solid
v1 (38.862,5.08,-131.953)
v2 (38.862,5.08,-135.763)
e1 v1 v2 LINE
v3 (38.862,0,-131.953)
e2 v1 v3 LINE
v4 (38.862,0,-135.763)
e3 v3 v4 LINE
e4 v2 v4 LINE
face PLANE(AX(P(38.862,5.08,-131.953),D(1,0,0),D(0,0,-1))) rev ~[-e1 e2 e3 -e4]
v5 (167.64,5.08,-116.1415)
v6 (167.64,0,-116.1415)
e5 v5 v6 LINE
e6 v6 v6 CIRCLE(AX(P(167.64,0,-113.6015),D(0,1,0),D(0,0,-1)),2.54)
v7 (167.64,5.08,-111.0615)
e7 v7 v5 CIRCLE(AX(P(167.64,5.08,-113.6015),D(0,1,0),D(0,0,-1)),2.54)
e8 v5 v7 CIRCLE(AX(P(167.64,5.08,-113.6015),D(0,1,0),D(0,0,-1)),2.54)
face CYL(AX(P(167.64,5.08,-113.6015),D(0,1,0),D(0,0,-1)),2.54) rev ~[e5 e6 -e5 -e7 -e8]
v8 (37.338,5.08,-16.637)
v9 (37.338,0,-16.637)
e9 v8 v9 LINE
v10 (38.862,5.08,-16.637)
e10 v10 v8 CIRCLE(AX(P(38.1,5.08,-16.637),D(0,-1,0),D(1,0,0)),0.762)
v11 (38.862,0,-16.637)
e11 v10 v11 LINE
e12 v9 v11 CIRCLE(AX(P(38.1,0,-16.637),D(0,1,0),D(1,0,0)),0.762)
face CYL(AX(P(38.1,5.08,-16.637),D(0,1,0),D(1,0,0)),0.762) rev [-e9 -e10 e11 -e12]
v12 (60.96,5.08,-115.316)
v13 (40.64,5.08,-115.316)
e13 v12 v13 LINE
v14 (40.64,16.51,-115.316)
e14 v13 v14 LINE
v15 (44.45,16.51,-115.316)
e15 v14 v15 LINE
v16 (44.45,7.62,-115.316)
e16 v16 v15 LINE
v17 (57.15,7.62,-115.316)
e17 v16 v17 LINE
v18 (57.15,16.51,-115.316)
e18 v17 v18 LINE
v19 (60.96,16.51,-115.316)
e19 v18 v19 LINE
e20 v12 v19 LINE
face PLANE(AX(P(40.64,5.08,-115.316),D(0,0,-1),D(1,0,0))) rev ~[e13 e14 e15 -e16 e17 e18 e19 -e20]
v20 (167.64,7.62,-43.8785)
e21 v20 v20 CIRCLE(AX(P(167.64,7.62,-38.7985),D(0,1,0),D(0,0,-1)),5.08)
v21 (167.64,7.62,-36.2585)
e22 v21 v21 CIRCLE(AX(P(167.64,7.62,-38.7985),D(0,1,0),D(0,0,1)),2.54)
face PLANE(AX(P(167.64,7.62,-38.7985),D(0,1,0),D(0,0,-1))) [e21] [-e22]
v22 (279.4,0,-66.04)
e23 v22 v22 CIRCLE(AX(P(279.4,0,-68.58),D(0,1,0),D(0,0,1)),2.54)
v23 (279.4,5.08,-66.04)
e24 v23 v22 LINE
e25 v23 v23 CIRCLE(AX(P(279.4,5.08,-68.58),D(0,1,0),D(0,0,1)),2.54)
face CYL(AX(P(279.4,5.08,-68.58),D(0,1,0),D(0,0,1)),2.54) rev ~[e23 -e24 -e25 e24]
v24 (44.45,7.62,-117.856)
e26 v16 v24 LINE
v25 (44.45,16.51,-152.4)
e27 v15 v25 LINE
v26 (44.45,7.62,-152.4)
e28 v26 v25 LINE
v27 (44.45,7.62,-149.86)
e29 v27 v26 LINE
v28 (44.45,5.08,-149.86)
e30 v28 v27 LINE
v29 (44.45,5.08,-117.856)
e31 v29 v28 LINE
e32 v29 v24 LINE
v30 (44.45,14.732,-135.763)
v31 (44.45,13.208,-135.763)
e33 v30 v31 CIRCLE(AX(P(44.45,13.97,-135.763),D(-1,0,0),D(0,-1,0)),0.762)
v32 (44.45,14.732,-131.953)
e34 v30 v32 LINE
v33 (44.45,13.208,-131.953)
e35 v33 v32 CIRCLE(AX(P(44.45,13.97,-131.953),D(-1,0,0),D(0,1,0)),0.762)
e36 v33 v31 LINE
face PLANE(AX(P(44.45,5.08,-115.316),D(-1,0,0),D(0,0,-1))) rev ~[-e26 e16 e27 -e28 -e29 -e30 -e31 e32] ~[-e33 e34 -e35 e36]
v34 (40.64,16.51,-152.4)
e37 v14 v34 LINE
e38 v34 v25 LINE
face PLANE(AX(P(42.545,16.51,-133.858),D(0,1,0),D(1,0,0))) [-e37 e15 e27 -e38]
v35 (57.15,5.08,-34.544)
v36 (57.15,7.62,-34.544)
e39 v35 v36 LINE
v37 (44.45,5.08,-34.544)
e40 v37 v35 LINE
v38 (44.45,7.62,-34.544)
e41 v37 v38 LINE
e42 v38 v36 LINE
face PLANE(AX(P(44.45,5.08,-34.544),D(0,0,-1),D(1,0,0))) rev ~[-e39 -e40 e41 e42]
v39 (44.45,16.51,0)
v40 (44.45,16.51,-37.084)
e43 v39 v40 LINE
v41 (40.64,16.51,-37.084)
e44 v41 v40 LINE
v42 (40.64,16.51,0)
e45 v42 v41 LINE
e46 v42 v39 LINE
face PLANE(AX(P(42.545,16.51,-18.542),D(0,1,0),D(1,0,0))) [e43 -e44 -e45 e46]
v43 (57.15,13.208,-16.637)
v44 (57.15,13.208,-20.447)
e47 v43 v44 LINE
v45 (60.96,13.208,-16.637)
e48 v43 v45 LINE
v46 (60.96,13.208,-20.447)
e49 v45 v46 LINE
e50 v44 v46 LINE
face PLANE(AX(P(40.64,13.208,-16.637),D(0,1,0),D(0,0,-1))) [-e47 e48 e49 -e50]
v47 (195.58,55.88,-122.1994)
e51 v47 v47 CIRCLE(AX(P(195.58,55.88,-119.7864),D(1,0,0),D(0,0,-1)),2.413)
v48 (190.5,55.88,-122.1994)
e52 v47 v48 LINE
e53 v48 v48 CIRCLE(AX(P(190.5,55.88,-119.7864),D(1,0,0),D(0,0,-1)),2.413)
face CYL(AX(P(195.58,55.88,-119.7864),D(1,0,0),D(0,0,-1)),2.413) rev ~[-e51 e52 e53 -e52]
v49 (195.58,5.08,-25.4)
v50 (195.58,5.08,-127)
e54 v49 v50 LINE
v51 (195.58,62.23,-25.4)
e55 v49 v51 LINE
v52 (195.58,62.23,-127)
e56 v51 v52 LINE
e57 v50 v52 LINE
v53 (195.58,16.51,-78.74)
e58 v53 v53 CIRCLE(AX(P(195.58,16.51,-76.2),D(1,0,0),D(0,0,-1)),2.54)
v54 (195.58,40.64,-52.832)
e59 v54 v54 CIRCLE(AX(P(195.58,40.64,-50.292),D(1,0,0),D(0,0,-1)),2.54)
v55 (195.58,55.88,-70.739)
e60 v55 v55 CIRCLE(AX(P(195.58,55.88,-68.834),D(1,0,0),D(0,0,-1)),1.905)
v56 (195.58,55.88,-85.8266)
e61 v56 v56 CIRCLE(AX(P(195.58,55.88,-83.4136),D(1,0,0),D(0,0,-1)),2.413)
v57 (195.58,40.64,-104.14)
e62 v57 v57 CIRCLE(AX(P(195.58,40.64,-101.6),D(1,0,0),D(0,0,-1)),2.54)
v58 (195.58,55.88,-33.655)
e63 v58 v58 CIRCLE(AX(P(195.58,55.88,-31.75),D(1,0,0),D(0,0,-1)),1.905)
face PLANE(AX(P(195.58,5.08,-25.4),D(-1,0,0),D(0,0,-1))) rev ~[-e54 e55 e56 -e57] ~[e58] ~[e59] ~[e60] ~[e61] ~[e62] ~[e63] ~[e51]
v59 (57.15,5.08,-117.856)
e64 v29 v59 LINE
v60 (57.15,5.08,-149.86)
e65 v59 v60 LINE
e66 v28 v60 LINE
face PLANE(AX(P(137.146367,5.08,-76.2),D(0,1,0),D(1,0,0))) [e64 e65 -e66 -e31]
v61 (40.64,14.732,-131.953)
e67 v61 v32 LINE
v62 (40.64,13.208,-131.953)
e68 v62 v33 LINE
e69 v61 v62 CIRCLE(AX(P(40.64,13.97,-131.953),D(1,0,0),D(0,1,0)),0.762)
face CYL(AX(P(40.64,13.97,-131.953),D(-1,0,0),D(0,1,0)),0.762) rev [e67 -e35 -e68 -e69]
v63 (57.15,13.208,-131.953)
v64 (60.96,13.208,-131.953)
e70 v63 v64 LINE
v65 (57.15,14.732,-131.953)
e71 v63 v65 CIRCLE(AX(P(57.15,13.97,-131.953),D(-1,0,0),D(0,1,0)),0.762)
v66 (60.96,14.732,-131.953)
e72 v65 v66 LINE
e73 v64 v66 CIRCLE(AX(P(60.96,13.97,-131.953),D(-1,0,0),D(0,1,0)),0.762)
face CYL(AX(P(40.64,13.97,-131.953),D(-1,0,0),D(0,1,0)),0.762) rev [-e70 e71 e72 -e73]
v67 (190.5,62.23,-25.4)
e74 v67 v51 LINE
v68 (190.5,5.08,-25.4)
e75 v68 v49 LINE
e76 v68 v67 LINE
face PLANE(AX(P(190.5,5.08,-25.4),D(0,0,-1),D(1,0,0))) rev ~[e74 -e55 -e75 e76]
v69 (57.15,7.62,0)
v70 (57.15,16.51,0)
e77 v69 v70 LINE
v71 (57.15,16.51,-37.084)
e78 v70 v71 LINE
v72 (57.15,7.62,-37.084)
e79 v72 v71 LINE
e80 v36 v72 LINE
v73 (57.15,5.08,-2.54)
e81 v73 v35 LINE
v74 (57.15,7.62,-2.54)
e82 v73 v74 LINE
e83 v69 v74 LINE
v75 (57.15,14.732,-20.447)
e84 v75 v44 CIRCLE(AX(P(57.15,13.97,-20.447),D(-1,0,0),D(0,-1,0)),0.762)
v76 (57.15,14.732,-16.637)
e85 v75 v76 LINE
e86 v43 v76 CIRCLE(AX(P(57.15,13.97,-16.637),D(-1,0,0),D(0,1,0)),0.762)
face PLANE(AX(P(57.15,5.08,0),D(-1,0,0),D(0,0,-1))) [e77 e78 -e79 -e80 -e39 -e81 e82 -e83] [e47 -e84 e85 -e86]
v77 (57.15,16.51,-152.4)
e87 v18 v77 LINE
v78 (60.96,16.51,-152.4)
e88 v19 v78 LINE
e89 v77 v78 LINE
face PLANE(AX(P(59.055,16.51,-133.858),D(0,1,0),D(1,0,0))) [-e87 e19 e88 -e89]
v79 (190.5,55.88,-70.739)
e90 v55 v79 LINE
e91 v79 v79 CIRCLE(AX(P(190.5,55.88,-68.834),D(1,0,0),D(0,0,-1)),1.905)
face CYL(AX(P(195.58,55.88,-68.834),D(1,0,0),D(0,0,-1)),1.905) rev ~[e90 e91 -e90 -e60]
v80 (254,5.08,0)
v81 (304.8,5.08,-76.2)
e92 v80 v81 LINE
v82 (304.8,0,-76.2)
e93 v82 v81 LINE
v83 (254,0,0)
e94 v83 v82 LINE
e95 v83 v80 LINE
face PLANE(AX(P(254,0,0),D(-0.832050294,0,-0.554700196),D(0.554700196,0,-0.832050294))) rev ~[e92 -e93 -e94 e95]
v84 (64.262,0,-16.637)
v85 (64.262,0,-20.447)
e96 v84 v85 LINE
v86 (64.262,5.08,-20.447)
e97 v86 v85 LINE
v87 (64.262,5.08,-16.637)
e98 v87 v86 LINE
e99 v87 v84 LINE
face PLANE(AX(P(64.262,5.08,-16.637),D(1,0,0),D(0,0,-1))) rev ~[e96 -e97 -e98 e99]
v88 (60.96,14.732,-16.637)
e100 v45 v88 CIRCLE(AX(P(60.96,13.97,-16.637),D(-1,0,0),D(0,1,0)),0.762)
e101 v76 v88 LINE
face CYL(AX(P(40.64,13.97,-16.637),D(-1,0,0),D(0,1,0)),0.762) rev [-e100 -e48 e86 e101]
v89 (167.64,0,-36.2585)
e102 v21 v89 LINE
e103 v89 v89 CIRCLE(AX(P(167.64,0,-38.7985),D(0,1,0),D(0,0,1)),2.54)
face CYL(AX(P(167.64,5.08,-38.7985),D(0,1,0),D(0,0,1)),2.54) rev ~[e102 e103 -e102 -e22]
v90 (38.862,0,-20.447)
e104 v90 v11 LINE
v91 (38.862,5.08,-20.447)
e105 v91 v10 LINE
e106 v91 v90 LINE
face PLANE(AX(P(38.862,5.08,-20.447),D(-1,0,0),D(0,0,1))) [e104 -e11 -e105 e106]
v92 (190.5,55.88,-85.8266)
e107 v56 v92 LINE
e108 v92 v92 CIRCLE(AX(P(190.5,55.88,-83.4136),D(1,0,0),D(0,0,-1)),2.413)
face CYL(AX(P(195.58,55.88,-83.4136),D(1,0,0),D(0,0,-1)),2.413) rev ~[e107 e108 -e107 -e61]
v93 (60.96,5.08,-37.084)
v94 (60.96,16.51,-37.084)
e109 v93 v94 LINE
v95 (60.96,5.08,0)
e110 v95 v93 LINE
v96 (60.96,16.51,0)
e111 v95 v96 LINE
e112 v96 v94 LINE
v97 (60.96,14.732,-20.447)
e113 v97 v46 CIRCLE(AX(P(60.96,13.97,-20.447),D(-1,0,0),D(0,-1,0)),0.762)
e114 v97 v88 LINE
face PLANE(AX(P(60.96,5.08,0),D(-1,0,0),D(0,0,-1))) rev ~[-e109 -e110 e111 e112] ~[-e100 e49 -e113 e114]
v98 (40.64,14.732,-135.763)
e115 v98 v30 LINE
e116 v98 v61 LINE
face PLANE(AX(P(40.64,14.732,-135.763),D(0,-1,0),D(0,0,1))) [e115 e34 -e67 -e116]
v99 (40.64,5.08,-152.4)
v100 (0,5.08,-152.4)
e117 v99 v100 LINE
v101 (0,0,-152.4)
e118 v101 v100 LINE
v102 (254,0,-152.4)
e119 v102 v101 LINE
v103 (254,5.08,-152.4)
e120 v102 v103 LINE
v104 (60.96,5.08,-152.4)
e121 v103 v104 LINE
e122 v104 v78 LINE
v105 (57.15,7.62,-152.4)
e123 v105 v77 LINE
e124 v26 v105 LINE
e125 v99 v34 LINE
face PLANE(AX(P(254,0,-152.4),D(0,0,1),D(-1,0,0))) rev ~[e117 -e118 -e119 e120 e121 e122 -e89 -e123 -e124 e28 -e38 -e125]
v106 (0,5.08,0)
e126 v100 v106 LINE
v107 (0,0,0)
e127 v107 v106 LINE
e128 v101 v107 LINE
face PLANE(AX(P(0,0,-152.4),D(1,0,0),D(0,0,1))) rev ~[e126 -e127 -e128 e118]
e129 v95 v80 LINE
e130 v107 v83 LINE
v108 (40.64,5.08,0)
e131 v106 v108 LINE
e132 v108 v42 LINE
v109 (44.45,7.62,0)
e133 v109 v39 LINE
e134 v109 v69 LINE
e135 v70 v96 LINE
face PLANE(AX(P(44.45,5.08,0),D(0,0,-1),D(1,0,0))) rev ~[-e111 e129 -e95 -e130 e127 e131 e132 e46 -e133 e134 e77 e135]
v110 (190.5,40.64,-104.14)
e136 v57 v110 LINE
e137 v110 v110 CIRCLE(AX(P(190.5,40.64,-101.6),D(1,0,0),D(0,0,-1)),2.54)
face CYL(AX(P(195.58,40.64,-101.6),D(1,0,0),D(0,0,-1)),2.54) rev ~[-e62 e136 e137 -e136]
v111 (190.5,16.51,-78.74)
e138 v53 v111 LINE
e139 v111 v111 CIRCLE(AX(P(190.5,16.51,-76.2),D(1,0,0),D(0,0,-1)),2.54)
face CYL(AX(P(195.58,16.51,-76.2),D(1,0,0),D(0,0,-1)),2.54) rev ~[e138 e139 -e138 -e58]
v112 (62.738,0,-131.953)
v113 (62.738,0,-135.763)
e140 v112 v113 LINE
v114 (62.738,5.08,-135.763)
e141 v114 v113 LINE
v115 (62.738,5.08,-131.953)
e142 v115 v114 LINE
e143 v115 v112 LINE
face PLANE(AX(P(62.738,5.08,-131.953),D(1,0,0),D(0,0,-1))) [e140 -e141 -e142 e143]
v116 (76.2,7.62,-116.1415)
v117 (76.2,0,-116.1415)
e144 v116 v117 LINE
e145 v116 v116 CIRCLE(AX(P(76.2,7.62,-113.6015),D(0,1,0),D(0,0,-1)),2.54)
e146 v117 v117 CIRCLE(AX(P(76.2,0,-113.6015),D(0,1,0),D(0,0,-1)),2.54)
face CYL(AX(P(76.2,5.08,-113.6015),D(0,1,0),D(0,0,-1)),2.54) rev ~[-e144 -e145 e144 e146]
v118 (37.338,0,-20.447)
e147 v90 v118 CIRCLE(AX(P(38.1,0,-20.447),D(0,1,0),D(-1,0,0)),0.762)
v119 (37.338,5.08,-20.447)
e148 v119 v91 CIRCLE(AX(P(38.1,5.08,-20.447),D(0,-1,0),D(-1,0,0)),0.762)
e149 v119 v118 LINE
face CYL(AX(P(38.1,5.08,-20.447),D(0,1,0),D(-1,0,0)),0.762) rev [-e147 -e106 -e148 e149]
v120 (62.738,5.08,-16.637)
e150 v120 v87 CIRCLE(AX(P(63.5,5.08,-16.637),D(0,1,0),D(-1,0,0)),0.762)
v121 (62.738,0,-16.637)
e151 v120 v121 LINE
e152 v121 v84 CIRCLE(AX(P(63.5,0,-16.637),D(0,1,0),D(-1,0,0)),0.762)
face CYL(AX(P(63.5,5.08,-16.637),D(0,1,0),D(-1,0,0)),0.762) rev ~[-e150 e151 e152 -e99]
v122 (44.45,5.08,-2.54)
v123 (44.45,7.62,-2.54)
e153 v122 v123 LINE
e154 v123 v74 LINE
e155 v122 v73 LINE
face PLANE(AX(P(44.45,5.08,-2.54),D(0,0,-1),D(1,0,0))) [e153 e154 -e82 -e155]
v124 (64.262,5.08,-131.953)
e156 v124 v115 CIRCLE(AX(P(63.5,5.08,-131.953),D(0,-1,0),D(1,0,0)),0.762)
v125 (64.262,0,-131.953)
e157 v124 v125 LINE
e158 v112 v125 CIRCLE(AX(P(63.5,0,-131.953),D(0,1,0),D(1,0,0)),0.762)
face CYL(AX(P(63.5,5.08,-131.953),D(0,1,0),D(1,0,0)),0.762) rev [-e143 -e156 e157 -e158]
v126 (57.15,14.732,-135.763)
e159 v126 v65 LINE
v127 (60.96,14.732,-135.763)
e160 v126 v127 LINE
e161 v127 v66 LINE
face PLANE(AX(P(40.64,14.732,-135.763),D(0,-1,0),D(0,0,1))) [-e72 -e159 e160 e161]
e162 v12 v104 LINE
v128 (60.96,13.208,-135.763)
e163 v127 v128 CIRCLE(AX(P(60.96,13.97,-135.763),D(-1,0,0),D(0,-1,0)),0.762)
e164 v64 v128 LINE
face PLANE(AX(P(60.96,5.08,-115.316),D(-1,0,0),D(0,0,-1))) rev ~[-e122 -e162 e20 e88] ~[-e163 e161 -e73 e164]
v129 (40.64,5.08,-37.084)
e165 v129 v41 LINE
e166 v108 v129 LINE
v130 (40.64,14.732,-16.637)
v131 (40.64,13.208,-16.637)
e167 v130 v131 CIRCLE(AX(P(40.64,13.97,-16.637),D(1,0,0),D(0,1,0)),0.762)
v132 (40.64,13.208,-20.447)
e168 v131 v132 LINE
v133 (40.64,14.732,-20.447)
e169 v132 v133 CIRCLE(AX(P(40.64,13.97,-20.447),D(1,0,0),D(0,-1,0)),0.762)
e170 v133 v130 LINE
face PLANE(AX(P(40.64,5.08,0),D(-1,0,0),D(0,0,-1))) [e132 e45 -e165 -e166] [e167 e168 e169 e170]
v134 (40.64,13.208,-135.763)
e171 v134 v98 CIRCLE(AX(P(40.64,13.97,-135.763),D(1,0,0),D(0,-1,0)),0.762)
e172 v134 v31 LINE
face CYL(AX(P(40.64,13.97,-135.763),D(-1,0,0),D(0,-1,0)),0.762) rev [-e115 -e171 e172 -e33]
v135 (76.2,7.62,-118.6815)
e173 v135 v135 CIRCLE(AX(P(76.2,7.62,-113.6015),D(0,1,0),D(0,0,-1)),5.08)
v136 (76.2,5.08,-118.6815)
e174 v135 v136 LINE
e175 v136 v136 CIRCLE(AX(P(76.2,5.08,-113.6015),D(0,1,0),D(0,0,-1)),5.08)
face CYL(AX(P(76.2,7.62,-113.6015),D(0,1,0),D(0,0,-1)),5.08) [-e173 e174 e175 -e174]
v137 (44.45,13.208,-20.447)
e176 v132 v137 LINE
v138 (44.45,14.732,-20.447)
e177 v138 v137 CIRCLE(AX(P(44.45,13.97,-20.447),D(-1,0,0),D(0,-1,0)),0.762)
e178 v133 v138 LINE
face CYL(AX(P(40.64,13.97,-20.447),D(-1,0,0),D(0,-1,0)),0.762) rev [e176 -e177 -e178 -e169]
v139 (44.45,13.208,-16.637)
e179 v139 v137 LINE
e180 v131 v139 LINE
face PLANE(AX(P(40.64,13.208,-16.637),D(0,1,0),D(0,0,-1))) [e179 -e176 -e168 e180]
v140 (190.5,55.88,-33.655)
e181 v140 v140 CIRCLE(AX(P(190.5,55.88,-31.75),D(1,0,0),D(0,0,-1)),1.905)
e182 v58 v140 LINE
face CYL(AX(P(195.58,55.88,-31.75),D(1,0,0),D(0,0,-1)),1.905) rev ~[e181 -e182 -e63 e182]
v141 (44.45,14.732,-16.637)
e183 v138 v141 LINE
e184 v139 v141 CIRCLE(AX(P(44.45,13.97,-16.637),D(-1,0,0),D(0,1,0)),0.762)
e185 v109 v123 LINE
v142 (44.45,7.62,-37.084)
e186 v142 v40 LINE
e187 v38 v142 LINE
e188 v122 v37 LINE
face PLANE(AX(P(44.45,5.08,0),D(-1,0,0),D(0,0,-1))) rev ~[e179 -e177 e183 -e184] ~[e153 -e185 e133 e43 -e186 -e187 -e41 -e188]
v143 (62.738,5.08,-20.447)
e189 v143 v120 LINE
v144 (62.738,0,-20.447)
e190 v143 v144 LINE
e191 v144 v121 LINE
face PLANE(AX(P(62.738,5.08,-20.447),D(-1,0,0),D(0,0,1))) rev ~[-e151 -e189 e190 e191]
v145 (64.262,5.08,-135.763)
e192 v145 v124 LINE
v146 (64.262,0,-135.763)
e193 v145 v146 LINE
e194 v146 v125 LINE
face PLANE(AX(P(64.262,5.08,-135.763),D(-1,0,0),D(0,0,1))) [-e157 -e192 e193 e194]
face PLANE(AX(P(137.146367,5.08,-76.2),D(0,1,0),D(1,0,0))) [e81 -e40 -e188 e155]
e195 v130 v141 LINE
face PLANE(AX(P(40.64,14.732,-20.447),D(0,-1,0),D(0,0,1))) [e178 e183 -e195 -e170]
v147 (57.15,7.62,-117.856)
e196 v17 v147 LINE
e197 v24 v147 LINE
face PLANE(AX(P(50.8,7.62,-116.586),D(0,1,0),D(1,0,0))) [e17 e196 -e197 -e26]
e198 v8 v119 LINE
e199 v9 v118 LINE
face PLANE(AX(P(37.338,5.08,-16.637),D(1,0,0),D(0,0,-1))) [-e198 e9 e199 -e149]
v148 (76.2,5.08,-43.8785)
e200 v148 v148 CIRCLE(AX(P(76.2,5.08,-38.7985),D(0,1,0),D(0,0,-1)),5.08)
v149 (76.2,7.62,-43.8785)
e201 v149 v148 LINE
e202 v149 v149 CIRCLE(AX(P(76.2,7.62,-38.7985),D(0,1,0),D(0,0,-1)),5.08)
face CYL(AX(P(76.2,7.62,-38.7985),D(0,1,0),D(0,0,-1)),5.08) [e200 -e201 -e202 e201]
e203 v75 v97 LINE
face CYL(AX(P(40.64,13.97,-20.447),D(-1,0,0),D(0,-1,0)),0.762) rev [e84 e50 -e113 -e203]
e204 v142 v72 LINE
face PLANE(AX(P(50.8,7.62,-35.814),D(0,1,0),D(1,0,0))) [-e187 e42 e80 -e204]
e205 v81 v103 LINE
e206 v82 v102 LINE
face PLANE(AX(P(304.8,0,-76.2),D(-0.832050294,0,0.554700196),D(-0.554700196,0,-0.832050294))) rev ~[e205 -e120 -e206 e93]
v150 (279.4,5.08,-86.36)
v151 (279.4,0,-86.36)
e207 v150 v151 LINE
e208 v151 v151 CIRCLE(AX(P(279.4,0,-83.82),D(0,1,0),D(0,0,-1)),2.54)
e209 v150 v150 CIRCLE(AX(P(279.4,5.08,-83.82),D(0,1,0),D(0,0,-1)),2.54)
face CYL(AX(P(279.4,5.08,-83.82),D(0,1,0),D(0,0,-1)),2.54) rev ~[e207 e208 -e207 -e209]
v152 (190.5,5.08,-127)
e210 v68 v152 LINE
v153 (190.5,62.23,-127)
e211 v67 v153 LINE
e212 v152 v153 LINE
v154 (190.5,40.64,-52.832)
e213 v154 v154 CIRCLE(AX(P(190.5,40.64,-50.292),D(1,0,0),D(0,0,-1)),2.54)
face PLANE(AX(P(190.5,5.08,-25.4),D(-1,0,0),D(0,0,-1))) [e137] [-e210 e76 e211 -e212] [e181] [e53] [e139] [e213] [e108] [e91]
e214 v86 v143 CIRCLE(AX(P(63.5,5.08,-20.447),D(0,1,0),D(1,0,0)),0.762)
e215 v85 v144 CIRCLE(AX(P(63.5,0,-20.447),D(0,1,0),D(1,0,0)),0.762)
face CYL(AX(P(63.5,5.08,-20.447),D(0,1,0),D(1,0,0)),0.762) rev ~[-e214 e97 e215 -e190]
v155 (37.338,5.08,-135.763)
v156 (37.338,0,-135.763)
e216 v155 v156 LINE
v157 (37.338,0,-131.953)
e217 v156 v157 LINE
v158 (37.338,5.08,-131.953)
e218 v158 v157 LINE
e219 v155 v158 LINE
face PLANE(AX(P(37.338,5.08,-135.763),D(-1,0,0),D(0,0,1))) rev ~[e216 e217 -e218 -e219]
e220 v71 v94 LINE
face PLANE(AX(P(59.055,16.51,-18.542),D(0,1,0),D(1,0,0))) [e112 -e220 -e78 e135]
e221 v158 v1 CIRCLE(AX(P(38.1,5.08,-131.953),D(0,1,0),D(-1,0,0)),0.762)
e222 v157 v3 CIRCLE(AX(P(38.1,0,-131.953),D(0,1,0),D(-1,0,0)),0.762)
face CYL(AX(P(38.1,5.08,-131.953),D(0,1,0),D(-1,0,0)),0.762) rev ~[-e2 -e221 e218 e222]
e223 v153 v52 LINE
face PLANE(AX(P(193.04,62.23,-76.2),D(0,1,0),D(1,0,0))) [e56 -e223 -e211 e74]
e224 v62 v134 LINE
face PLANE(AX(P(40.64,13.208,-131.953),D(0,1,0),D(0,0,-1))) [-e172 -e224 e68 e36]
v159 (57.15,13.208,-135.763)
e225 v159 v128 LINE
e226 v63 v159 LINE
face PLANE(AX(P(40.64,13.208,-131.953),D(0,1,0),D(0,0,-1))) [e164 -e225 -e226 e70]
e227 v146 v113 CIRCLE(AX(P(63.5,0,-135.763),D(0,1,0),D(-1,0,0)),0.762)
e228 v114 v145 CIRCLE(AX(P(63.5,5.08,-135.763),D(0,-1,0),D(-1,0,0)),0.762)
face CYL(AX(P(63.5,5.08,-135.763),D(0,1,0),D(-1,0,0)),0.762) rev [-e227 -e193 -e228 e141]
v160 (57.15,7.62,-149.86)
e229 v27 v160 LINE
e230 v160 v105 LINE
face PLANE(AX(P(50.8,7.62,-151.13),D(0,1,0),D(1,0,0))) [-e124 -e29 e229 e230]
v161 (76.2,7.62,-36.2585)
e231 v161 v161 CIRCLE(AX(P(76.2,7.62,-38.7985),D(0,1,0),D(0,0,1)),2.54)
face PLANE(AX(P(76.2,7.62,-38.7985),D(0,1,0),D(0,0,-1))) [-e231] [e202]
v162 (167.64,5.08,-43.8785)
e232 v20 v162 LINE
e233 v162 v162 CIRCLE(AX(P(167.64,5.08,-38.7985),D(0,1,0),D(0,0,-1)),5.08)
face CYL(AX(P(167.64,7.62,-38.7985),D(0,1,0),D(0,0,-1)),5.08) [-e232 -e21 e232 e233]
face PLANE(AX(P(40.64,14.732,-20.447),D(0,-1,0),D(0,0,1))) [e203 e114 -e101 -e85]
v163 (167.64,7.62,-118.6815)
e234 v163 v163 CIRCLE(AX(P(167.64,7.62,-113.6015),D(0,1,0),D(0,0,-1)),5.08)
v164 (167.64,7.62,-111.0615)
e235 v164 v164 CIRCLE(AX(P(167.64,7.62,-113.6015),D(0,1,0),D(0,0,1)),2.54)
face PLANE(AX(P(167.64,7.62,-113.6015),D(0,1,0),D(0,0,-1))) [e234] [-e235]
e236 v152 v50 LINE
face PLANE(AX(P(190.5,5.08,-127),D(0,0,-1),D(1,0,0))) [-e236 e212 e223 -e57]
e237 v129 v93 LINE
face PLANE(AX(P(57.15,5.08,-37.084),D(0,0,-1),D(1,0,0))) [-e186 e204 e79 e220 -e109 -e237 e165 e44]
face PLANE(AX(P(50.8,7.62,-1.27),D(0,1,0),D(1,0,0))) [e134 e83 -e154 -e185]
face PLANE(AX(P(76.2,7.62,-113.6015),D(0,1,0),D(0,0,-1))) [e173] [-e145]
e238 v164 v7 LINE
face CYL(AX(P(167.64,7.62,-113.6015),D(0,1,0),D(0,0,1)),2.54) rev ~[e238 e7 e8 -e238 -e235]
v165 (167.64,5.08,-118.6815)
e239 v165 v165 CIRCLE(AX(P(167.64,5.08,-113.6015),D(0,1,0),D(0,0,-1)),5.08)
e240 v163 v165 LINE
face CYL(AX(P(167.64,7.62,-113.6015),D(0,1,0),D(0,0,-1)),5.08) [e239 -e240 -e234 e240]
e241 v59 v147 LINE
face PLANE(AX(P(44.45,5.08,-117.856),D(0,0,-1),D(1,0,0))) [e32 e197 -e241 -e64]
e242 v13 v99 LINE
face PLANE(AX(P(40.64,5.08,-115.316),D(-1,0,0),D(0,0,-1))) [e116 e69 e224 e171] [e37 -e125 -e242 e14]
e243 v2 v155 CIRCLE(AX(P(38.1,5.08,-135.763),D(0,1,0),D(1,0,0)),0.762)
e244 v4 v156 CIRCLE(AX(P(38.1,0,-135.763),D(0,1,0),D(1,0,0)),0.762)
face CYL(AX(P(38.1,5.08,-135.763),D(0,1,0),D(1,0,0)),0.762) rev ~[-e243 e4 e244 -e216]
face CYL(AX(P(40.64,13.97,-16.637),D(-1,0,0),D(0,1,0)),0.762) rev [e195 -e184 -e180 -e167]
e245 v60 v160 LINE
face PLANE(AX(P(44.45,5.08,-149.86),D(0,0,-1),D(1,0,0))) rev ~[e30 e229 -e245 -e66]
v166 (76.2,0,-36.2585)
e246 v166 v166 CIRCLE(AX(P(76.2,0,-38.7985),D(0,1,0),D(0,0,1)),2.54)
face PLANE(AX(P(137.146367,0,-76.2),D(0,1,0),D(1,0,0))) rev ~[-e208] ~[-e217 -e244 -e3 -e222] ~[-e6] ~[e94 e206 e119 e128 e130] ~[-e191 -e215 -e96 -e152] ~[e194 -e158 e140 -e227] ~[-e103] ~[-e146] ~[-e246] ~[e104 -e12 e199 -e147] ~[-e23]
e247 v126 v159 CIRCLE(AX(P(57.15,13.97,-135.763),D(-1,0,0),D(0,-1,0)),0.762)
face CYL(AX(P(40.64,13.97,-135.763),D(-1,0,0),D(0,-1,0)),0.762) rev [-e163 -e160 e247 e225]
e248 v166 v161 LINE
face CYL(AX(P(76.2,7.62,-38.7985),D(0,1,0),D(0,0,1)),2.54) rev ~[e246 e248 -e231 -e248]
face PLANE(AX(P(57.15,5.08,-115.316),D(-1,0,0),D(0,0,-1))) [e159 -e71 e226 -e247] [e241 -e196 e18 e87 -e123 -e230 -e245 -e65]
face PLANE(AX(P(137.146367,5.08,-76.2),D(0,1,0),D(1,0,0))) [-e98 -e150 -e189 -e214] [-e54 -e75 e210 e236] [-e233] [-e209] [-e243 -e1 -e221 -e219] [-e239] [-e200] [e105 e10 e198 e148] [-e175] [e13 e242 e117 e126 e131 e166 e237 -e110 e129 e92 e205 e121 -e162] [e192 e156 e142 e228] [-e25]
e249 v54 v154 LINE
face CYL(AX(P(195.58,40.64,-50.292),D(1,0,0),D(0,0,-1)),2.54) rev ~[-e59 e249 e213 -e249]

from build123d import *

# Parameters (mm, degrees)
BOSS_EXTRUDE1_DEPTH = 5.08
SKETCH2_R           = 2.54
CUT_EXTRUDE1_DEPTH  = 341.814621752
SKETCH3_R           = 2.54
CUT_EXTRUDE2_DEPTH  = 341.814621752
SKETCH4_W           = 3.81
SKETCH4_H           = 37.084
BOSS_EXTRUDE2_DEPTH = 11.43
SKETCH5_W           = 12.7
SKETCH5_H           = 2.54
BOSS_EXTRUDE3_DEPTH = 2.54
BOSS_EXTRUDE4_START = 2.54
SKETCH6_R           = 5.08
SKETCH6_R_2         = 2.54
BOSS_EXTRUDE4_DEPTH = 2.54
SKETCH7_W           = 5.08
SKETCH7_H           = 101.6
BOSS_EXTRUDE5_DEPTH = 57.15
CUT_EXTRUDE3_REACH  = 257.636
SKETCH8_R           = 1.905
SKETCH8_R_2         = 2.54
CUT_EXTRUDE5_REACH  = 257.636
SKETCH10_R          = 2.54
CUT_EXTRUDE7_DEPTH  = 25.4
CUT_EXTRUDE8_DEPTH  = 25.4
CUT_EXTRUDE9_DEPTH  = 346.535703654
SKETCH15_R          = 2.413
SKETCH15_R_2        = 2.54
CUT_EXTRUDE10_DEPTH = 256.636204987


with BuildPart() as part:
    # Sketch1 → Boss-Extrude1 (new body)
    with BuildSketch(Plane(origin=(0, 0, 0), x_dir=(1, 0, 0), z_dir=(0, 1, 0))):
        Polygon((0, 0), (254, 0), (304.8, 76.2), (254, 152.4), (0, 152.4), align=None)
    extrude(amount=BOSS_EXTRUDE1_DEPTH)

    # Sketch2 → Cut-Extrude1 (cut, through all)
    with BuildSketch(Plane(origin=(0, 5.08, 0), x_dir=(1, 0, 0), z_dir=(0, 1, 0))):
        with Locations(Location((76.2, 38.7985, 0), (0, 0, 270))):
            Circle(SKETCH2_R)
        with Locations(Location((167.64, 38.7985, 0), (0, 0, 270))):
            Circle(SKETCH2_R)
        with Locations(Location((167.64, 113.6015, 0), (0, 0, 90))):
            Circle(SKETCH2_R)
        with Locations(Location((76.2, 113.6015, 0), (0, 0, 90))):
            Circle(SKETCH2_R)
    extrude(amount=-CUT_EXTRUDE1_DEPTH, mode=Mode.SUBTRACT)

    # Sketch3 → Cut-Extrude2 (cut, through all)
    with BuildSketch(Plane(origin=(0, 5.08, 0), x_dir=(1, 0, 0), z_dir=(0, 1, 0))):
        with Locations(Location((279.4, 68.58, 0), (0, 0, 270))):
            Circle(SKETCH3_R)
        with Locations(Location((279.4, 83.82, 0), (0, 0, 90))):
            Circle(SKETCH3_R)
    extrude(amount=-CUT_EXTRUDE2_DEPTH, mode=Mode.SUBTRACT)

    # Sketch4 → Boss-Extrude2 (add)
    with BuildSketch(Plane(origin=(0, 5.08, 0), x_dir=(1, 0, 0), z_dir=(0, 1, 0))):
        with Locations((42.545, 18.542)):
            Rectangle(SKETCH4_W, SKETCH4_H)
        with Locations((59.055, 18.542)):
            Rectangle(SKETCH4_W, SKETCH4_H)
        with Locations((59.055, 133.858)):
            Rectangle(SKETCH4_W, SKETCH4_H)
        with Locations((42.545, 133.858)):
            Rectangle(SKETCH4_W, SKETCH4_H)
    extrude(amount=BOSS_EXTRUDE2_DEPTH)

    # Sketch5 → Boss-Extrude3 (add)
    with BuildSketch(Plane(origin=(0, 5.08, 0), x_dir=(1, 0, 0), z_dir=(0, 1, 0))):
        with Locations((50.8, 1.27)):
            Rectangle(SKETCH5_W, SKETCH5_H)
        with Locations((50.8, 151.13)):
            Rectangle(SKETCH5_W, SKETCH5_H)
        with Locations((50.8, 116.586)):
            Rectangle(SKETCH5_W, SKETCH5_H)
        with Locations((50.8, 35.814)):
            Rectangle(SKETCH5_W, SKETCH5_H)
    extrude(amount=BOSS_EXTRUDE3_DEPTH)

    # Sketch6 → Boss-Extrude4 (add)
    # profile 1 of 4: a face of its own
    with BuildSketch(Plane(origin=(0, 5.08, 0), x_dir=(1, 0, 0), z_dir=(0, 1, 0)).offset(BOSS_EXTRUDE4_START)):
        with Locations(Location((76.2, 38.7985, 0), (0, 0, 90))):
            Circle(SKETCH6_R)
        with Locations(Location((76.2, 38.7985, 0), (0, 0, 270))):
            Circle(SKETCH6_R_2, mode=Mode.SUBTRACT)
    # profile 2 of 4: a face of its own
    with BuildSketch(Plane(origin=(0, 5.08, 0), x_dir=(1, 0, 0), z_dir=(0, 1, 0)).offset(BOSS_EXTRUDE4_START)):
        with Locations(Location((167.64, 38.7985, 0), (0, 0, 90))):
            Circle(SKETCH6_R)
        with Locations(Location((167.64, 38.7985, 0), (0, 0, 270))):
            Circle(SKETCH6_R_2, mode=Mode.SUBTRACT)
    # profile 3 of 4: a face of its own
    with BuildSketch(Plane(origin=(0, 5.08, 0), x_dir=(1, 0, 0), z_dir=(0, 1, 0)).offset(BOSS_EXTRUDE4_START)):
        with Locations(Location((167.64, 113.6015, 0), (0, 0, 90))):
            Circle(SKETCH6_R)
        with Locations(Location((167.64, 113.6015, 0), (0, 0, 270))):
            Circle(SKETCH6_R_2, mode=Mode.SUBTRACT)
    # profile 4 of 4: a face of its own
    with BuildSketch(Plane(origin=(0, 5.08, 0), x_dir=(1, 0, 0), z_dir=(0, 1, 0)).offset(BOSS_EXTRUDE4_START)):
        with Locations(Location((76.2, 113.6015, 0), (0, 0, 90))):
            Circle(SKETCH6_R)
        with Locations(Location((76.2, 113.6015, 0), (0, 0, 90))):
            Circle(SKETCH6_R_2, mode=Mode.SUBTRACT)
    extrude(amount=-BOSS_EXTRUDE4_DEPTH)

    # Sketch7 → Boss-Extrude5 (add)
    with BuildSketch(Plane(origin=(0, 5.08, 0), x_dir=(1, 0, 0), z_dir=(0, 1, 0))):
        with Locations((193.04, 76.2)):
            Rectangle(SKETCH7_W, SKETCH7_H)
    extrude(amount=BOSS_EXTRUDE5_DEPTH)

    # Sketch8 → Cut-Extrude3 (cut, up to next)
    with BuildSketch(Plane(origin=(195.58, 0, 0), x_dir=(0, 0, -1), z_dir=(1, 0, 0)), mode=Mode.PRIVATE) as cut_extrude3_sk1:
        with Locations((31.75, 55.88)):
            Circle(SKETCH8_R)
    cut_extrude3_tool1 = extrude(cut_extrude3_sk1.sketch, amount=-CUT_EXTRUDE3_REACH, mode=Mode.PRIVATE) & part.part
    # Sketch8 → Cut-Extrude3 (cut, up to next)
    with BuildSketch(Plane(origin=(195.58, 0, 0), x_dir=(0, 0, -1), z_dir=(1, 0, 0)), mode=Mode.PRIVATE) as cut_extrude3_sk2:
        with Locations((68.834, 55.88)):
            Circle(SKETCH8_R)
    cut_extrude3_tool2 = extrude(cut_extrude3_sk2.sketch, amount=-CUT_EXTRUDE3_REACH, mode=Mode.PRIVATE) & part.part
    # Sketch8 → Cut-Extrude3 (cut, up to next)
    with BuildSketch(Plane(origin=(195.58, 0, 0), x_dir=(0, 0, -1), z_dir=(1, 0, 0)), mode=Mode.PRIVATE) as cut_extrude3_sk3:
        with Locations((50.292, 40.64)):
            Circle(SKETCH8_R_2)
    cut_extrude3_tool3 = extrude(cut_extrude3_sk3.sketch, amount=-CUT_EXTRUDE3_REACH, mode=Mode.PRIVATE) & part.part
    add(cut_extrude3_tool1.solids().sort_by_distance((195.58, 55.88, -31.75))[0], mode=Mode.SUBTRACT)
    add(cut_extrude3_tool2.solids().sort_by_distance((195.58, 55.88, -68.834))[0], mode=Mode.SUBTRACT)
    add(cut_extrude3_tool3.solids().sort_by_distance((195.58, 40.64, -50.292))[0], mode=Mode.SUBTRACT)

    # Sketch10 → Cut-Extrude5 (cut, up to next)
    with BuildSketch(Plane(origin=(195.58, 0, 0), x_dir=(0, 0, -1), z_dir=(1, 0, 0)), mode=Mode.PRIVATE) as cut_extrude5_sk1:
        with Locations((76.2, 16.51)):
            Circle(SKETCH10_R)
    cut_extrude5_tool1 = extrude(cut_extrude5_sk1.sketch, amount=-CUT_EXTRUDE5_REACH, mode=Mode.PRIVATE) & part.part
    add(cut_extrude5_tool1.solids().sort_by_distance((195.58, 16.51, -76.2))[0], mode=Mode.SUBTRACT)

    # Sketch12 → Cut-Extrude7 (cut)
    with BuildSketch(Plane.ZY.offset(-40.64)):
        with BuildLine():
            Line((-20.447, 14.732), (-16.637, 14.732))
            ThreePointArc((-16.637, 14.732), (-15.875, 13.97), (-16.637, 13.208))
            Line((-16.637, 13.208), (-20.447, 13.208))
            ThreePointArc((-20.447, 13.208), (-21.209, 13.97), (-20.447, 14.732))
        make_face()
    extrude(amount=-CUT_EXTRUDE7_DEPTH, mode=Mode.SUBTRACT)

    # Sketch13 → Cut-Extrude8 (cut)
    with BuildSketch(Plane.ZY.offset(-40.64)):
        with BuildLine():
            Line((-135.763, 14.732), (-131.953, 14.732))
            ThreePointArc((-131.953, 14.732), (-131.191, 13.97), (-131.953, 13.208))
            Line((-131.953, 13.208), (-135.763, 13.208))
            ThreePointArc((-135.763, 13.208), (-136.525, 13.97), (-135.763, 14.732))
        make_face()
    extrude(amount=-CUT_EXTRUDE8_DEPTH, mode=Mode.SUBTRACT)

    # Sketch14 → Cut-Extrude9 (cut, through all)
    with BuildSketch(Plane(origin=(0, 5.08, 0), x_dir=(1, 0, 0), z_dir=(0, 1, 0))):
        with BuildLine():
            Line((37.338, 16.637), (37.338, 20.447))
            ThreePointArc((37.338, 20.447), (38.1, 21.209), (38.862, 20.447))
            Line((38.862, 20.447), (38.862, 16.637))
            ThreePointArc((38.862, 16.637), (38.1, 15.875), (37.338, 16.637))
        make_face()
        with BuildLine():
            Line((64.262, 16.637), (64.262, 20.447))
            ThreePointArc((64.262, 20.447), (63.5, 21.209), (62.738, 20.447))
            Line((62.738, 20.447), (62.738, 16.637))
            ThreePointArc((62.738, 16.637), (63.5, 15.875), (64.262, 16.637))
        make_face()
        with BuildLine():
            Line((37.338, 135.763), (37.338, 131.953))
            ThreePointArc((37.338, 131.953), (38.1, 131.191), (38.862, 131.953))
            Line((38.862, 131.953), (38.862, 135.763))
            ThreePointArc((38.862, 135.763), (38.1, 136.525), (37.338, 135.763))
        make_face()
        with BuildLine():
            Line((64.262, 135.763), (64.262, 131.953))
            ThreePointArc((64.262, 131.953), (63.5, 131.191), (62.738, 131.953))
            Line((62.738, 131.953), (62.738, 135.763))
            ThreePointArc((62.738, 135.763), (63.5, 136.525), (64.262, 135.763))
        make_face()
    extrude(amount=-CUT_EXTRUDE9_DEPTH, mode=Mode.SUBTRACT)

    # Sketch15 → Cut-Extrude10 (cut, through all)
    with BuildSketch(Plane(origin=(195.58, 0, 0), x_dir=(0, 0, -1), z_dir=(1, 0, 0))):
        with Locations((83.4136, 55.88)):
            Circle(SKETCH15_R)
        with Locations((119.7864, 55.88)):
            Circle(SKETCH15_R)
        with Locations((101.6, 40.64)):
            Circle(SKETCH15_R_2)
    extrude(amount=-CUT_EXTRUDE10_DEPTH, mode=Mode.SUBTRACT)


solid = part.part
